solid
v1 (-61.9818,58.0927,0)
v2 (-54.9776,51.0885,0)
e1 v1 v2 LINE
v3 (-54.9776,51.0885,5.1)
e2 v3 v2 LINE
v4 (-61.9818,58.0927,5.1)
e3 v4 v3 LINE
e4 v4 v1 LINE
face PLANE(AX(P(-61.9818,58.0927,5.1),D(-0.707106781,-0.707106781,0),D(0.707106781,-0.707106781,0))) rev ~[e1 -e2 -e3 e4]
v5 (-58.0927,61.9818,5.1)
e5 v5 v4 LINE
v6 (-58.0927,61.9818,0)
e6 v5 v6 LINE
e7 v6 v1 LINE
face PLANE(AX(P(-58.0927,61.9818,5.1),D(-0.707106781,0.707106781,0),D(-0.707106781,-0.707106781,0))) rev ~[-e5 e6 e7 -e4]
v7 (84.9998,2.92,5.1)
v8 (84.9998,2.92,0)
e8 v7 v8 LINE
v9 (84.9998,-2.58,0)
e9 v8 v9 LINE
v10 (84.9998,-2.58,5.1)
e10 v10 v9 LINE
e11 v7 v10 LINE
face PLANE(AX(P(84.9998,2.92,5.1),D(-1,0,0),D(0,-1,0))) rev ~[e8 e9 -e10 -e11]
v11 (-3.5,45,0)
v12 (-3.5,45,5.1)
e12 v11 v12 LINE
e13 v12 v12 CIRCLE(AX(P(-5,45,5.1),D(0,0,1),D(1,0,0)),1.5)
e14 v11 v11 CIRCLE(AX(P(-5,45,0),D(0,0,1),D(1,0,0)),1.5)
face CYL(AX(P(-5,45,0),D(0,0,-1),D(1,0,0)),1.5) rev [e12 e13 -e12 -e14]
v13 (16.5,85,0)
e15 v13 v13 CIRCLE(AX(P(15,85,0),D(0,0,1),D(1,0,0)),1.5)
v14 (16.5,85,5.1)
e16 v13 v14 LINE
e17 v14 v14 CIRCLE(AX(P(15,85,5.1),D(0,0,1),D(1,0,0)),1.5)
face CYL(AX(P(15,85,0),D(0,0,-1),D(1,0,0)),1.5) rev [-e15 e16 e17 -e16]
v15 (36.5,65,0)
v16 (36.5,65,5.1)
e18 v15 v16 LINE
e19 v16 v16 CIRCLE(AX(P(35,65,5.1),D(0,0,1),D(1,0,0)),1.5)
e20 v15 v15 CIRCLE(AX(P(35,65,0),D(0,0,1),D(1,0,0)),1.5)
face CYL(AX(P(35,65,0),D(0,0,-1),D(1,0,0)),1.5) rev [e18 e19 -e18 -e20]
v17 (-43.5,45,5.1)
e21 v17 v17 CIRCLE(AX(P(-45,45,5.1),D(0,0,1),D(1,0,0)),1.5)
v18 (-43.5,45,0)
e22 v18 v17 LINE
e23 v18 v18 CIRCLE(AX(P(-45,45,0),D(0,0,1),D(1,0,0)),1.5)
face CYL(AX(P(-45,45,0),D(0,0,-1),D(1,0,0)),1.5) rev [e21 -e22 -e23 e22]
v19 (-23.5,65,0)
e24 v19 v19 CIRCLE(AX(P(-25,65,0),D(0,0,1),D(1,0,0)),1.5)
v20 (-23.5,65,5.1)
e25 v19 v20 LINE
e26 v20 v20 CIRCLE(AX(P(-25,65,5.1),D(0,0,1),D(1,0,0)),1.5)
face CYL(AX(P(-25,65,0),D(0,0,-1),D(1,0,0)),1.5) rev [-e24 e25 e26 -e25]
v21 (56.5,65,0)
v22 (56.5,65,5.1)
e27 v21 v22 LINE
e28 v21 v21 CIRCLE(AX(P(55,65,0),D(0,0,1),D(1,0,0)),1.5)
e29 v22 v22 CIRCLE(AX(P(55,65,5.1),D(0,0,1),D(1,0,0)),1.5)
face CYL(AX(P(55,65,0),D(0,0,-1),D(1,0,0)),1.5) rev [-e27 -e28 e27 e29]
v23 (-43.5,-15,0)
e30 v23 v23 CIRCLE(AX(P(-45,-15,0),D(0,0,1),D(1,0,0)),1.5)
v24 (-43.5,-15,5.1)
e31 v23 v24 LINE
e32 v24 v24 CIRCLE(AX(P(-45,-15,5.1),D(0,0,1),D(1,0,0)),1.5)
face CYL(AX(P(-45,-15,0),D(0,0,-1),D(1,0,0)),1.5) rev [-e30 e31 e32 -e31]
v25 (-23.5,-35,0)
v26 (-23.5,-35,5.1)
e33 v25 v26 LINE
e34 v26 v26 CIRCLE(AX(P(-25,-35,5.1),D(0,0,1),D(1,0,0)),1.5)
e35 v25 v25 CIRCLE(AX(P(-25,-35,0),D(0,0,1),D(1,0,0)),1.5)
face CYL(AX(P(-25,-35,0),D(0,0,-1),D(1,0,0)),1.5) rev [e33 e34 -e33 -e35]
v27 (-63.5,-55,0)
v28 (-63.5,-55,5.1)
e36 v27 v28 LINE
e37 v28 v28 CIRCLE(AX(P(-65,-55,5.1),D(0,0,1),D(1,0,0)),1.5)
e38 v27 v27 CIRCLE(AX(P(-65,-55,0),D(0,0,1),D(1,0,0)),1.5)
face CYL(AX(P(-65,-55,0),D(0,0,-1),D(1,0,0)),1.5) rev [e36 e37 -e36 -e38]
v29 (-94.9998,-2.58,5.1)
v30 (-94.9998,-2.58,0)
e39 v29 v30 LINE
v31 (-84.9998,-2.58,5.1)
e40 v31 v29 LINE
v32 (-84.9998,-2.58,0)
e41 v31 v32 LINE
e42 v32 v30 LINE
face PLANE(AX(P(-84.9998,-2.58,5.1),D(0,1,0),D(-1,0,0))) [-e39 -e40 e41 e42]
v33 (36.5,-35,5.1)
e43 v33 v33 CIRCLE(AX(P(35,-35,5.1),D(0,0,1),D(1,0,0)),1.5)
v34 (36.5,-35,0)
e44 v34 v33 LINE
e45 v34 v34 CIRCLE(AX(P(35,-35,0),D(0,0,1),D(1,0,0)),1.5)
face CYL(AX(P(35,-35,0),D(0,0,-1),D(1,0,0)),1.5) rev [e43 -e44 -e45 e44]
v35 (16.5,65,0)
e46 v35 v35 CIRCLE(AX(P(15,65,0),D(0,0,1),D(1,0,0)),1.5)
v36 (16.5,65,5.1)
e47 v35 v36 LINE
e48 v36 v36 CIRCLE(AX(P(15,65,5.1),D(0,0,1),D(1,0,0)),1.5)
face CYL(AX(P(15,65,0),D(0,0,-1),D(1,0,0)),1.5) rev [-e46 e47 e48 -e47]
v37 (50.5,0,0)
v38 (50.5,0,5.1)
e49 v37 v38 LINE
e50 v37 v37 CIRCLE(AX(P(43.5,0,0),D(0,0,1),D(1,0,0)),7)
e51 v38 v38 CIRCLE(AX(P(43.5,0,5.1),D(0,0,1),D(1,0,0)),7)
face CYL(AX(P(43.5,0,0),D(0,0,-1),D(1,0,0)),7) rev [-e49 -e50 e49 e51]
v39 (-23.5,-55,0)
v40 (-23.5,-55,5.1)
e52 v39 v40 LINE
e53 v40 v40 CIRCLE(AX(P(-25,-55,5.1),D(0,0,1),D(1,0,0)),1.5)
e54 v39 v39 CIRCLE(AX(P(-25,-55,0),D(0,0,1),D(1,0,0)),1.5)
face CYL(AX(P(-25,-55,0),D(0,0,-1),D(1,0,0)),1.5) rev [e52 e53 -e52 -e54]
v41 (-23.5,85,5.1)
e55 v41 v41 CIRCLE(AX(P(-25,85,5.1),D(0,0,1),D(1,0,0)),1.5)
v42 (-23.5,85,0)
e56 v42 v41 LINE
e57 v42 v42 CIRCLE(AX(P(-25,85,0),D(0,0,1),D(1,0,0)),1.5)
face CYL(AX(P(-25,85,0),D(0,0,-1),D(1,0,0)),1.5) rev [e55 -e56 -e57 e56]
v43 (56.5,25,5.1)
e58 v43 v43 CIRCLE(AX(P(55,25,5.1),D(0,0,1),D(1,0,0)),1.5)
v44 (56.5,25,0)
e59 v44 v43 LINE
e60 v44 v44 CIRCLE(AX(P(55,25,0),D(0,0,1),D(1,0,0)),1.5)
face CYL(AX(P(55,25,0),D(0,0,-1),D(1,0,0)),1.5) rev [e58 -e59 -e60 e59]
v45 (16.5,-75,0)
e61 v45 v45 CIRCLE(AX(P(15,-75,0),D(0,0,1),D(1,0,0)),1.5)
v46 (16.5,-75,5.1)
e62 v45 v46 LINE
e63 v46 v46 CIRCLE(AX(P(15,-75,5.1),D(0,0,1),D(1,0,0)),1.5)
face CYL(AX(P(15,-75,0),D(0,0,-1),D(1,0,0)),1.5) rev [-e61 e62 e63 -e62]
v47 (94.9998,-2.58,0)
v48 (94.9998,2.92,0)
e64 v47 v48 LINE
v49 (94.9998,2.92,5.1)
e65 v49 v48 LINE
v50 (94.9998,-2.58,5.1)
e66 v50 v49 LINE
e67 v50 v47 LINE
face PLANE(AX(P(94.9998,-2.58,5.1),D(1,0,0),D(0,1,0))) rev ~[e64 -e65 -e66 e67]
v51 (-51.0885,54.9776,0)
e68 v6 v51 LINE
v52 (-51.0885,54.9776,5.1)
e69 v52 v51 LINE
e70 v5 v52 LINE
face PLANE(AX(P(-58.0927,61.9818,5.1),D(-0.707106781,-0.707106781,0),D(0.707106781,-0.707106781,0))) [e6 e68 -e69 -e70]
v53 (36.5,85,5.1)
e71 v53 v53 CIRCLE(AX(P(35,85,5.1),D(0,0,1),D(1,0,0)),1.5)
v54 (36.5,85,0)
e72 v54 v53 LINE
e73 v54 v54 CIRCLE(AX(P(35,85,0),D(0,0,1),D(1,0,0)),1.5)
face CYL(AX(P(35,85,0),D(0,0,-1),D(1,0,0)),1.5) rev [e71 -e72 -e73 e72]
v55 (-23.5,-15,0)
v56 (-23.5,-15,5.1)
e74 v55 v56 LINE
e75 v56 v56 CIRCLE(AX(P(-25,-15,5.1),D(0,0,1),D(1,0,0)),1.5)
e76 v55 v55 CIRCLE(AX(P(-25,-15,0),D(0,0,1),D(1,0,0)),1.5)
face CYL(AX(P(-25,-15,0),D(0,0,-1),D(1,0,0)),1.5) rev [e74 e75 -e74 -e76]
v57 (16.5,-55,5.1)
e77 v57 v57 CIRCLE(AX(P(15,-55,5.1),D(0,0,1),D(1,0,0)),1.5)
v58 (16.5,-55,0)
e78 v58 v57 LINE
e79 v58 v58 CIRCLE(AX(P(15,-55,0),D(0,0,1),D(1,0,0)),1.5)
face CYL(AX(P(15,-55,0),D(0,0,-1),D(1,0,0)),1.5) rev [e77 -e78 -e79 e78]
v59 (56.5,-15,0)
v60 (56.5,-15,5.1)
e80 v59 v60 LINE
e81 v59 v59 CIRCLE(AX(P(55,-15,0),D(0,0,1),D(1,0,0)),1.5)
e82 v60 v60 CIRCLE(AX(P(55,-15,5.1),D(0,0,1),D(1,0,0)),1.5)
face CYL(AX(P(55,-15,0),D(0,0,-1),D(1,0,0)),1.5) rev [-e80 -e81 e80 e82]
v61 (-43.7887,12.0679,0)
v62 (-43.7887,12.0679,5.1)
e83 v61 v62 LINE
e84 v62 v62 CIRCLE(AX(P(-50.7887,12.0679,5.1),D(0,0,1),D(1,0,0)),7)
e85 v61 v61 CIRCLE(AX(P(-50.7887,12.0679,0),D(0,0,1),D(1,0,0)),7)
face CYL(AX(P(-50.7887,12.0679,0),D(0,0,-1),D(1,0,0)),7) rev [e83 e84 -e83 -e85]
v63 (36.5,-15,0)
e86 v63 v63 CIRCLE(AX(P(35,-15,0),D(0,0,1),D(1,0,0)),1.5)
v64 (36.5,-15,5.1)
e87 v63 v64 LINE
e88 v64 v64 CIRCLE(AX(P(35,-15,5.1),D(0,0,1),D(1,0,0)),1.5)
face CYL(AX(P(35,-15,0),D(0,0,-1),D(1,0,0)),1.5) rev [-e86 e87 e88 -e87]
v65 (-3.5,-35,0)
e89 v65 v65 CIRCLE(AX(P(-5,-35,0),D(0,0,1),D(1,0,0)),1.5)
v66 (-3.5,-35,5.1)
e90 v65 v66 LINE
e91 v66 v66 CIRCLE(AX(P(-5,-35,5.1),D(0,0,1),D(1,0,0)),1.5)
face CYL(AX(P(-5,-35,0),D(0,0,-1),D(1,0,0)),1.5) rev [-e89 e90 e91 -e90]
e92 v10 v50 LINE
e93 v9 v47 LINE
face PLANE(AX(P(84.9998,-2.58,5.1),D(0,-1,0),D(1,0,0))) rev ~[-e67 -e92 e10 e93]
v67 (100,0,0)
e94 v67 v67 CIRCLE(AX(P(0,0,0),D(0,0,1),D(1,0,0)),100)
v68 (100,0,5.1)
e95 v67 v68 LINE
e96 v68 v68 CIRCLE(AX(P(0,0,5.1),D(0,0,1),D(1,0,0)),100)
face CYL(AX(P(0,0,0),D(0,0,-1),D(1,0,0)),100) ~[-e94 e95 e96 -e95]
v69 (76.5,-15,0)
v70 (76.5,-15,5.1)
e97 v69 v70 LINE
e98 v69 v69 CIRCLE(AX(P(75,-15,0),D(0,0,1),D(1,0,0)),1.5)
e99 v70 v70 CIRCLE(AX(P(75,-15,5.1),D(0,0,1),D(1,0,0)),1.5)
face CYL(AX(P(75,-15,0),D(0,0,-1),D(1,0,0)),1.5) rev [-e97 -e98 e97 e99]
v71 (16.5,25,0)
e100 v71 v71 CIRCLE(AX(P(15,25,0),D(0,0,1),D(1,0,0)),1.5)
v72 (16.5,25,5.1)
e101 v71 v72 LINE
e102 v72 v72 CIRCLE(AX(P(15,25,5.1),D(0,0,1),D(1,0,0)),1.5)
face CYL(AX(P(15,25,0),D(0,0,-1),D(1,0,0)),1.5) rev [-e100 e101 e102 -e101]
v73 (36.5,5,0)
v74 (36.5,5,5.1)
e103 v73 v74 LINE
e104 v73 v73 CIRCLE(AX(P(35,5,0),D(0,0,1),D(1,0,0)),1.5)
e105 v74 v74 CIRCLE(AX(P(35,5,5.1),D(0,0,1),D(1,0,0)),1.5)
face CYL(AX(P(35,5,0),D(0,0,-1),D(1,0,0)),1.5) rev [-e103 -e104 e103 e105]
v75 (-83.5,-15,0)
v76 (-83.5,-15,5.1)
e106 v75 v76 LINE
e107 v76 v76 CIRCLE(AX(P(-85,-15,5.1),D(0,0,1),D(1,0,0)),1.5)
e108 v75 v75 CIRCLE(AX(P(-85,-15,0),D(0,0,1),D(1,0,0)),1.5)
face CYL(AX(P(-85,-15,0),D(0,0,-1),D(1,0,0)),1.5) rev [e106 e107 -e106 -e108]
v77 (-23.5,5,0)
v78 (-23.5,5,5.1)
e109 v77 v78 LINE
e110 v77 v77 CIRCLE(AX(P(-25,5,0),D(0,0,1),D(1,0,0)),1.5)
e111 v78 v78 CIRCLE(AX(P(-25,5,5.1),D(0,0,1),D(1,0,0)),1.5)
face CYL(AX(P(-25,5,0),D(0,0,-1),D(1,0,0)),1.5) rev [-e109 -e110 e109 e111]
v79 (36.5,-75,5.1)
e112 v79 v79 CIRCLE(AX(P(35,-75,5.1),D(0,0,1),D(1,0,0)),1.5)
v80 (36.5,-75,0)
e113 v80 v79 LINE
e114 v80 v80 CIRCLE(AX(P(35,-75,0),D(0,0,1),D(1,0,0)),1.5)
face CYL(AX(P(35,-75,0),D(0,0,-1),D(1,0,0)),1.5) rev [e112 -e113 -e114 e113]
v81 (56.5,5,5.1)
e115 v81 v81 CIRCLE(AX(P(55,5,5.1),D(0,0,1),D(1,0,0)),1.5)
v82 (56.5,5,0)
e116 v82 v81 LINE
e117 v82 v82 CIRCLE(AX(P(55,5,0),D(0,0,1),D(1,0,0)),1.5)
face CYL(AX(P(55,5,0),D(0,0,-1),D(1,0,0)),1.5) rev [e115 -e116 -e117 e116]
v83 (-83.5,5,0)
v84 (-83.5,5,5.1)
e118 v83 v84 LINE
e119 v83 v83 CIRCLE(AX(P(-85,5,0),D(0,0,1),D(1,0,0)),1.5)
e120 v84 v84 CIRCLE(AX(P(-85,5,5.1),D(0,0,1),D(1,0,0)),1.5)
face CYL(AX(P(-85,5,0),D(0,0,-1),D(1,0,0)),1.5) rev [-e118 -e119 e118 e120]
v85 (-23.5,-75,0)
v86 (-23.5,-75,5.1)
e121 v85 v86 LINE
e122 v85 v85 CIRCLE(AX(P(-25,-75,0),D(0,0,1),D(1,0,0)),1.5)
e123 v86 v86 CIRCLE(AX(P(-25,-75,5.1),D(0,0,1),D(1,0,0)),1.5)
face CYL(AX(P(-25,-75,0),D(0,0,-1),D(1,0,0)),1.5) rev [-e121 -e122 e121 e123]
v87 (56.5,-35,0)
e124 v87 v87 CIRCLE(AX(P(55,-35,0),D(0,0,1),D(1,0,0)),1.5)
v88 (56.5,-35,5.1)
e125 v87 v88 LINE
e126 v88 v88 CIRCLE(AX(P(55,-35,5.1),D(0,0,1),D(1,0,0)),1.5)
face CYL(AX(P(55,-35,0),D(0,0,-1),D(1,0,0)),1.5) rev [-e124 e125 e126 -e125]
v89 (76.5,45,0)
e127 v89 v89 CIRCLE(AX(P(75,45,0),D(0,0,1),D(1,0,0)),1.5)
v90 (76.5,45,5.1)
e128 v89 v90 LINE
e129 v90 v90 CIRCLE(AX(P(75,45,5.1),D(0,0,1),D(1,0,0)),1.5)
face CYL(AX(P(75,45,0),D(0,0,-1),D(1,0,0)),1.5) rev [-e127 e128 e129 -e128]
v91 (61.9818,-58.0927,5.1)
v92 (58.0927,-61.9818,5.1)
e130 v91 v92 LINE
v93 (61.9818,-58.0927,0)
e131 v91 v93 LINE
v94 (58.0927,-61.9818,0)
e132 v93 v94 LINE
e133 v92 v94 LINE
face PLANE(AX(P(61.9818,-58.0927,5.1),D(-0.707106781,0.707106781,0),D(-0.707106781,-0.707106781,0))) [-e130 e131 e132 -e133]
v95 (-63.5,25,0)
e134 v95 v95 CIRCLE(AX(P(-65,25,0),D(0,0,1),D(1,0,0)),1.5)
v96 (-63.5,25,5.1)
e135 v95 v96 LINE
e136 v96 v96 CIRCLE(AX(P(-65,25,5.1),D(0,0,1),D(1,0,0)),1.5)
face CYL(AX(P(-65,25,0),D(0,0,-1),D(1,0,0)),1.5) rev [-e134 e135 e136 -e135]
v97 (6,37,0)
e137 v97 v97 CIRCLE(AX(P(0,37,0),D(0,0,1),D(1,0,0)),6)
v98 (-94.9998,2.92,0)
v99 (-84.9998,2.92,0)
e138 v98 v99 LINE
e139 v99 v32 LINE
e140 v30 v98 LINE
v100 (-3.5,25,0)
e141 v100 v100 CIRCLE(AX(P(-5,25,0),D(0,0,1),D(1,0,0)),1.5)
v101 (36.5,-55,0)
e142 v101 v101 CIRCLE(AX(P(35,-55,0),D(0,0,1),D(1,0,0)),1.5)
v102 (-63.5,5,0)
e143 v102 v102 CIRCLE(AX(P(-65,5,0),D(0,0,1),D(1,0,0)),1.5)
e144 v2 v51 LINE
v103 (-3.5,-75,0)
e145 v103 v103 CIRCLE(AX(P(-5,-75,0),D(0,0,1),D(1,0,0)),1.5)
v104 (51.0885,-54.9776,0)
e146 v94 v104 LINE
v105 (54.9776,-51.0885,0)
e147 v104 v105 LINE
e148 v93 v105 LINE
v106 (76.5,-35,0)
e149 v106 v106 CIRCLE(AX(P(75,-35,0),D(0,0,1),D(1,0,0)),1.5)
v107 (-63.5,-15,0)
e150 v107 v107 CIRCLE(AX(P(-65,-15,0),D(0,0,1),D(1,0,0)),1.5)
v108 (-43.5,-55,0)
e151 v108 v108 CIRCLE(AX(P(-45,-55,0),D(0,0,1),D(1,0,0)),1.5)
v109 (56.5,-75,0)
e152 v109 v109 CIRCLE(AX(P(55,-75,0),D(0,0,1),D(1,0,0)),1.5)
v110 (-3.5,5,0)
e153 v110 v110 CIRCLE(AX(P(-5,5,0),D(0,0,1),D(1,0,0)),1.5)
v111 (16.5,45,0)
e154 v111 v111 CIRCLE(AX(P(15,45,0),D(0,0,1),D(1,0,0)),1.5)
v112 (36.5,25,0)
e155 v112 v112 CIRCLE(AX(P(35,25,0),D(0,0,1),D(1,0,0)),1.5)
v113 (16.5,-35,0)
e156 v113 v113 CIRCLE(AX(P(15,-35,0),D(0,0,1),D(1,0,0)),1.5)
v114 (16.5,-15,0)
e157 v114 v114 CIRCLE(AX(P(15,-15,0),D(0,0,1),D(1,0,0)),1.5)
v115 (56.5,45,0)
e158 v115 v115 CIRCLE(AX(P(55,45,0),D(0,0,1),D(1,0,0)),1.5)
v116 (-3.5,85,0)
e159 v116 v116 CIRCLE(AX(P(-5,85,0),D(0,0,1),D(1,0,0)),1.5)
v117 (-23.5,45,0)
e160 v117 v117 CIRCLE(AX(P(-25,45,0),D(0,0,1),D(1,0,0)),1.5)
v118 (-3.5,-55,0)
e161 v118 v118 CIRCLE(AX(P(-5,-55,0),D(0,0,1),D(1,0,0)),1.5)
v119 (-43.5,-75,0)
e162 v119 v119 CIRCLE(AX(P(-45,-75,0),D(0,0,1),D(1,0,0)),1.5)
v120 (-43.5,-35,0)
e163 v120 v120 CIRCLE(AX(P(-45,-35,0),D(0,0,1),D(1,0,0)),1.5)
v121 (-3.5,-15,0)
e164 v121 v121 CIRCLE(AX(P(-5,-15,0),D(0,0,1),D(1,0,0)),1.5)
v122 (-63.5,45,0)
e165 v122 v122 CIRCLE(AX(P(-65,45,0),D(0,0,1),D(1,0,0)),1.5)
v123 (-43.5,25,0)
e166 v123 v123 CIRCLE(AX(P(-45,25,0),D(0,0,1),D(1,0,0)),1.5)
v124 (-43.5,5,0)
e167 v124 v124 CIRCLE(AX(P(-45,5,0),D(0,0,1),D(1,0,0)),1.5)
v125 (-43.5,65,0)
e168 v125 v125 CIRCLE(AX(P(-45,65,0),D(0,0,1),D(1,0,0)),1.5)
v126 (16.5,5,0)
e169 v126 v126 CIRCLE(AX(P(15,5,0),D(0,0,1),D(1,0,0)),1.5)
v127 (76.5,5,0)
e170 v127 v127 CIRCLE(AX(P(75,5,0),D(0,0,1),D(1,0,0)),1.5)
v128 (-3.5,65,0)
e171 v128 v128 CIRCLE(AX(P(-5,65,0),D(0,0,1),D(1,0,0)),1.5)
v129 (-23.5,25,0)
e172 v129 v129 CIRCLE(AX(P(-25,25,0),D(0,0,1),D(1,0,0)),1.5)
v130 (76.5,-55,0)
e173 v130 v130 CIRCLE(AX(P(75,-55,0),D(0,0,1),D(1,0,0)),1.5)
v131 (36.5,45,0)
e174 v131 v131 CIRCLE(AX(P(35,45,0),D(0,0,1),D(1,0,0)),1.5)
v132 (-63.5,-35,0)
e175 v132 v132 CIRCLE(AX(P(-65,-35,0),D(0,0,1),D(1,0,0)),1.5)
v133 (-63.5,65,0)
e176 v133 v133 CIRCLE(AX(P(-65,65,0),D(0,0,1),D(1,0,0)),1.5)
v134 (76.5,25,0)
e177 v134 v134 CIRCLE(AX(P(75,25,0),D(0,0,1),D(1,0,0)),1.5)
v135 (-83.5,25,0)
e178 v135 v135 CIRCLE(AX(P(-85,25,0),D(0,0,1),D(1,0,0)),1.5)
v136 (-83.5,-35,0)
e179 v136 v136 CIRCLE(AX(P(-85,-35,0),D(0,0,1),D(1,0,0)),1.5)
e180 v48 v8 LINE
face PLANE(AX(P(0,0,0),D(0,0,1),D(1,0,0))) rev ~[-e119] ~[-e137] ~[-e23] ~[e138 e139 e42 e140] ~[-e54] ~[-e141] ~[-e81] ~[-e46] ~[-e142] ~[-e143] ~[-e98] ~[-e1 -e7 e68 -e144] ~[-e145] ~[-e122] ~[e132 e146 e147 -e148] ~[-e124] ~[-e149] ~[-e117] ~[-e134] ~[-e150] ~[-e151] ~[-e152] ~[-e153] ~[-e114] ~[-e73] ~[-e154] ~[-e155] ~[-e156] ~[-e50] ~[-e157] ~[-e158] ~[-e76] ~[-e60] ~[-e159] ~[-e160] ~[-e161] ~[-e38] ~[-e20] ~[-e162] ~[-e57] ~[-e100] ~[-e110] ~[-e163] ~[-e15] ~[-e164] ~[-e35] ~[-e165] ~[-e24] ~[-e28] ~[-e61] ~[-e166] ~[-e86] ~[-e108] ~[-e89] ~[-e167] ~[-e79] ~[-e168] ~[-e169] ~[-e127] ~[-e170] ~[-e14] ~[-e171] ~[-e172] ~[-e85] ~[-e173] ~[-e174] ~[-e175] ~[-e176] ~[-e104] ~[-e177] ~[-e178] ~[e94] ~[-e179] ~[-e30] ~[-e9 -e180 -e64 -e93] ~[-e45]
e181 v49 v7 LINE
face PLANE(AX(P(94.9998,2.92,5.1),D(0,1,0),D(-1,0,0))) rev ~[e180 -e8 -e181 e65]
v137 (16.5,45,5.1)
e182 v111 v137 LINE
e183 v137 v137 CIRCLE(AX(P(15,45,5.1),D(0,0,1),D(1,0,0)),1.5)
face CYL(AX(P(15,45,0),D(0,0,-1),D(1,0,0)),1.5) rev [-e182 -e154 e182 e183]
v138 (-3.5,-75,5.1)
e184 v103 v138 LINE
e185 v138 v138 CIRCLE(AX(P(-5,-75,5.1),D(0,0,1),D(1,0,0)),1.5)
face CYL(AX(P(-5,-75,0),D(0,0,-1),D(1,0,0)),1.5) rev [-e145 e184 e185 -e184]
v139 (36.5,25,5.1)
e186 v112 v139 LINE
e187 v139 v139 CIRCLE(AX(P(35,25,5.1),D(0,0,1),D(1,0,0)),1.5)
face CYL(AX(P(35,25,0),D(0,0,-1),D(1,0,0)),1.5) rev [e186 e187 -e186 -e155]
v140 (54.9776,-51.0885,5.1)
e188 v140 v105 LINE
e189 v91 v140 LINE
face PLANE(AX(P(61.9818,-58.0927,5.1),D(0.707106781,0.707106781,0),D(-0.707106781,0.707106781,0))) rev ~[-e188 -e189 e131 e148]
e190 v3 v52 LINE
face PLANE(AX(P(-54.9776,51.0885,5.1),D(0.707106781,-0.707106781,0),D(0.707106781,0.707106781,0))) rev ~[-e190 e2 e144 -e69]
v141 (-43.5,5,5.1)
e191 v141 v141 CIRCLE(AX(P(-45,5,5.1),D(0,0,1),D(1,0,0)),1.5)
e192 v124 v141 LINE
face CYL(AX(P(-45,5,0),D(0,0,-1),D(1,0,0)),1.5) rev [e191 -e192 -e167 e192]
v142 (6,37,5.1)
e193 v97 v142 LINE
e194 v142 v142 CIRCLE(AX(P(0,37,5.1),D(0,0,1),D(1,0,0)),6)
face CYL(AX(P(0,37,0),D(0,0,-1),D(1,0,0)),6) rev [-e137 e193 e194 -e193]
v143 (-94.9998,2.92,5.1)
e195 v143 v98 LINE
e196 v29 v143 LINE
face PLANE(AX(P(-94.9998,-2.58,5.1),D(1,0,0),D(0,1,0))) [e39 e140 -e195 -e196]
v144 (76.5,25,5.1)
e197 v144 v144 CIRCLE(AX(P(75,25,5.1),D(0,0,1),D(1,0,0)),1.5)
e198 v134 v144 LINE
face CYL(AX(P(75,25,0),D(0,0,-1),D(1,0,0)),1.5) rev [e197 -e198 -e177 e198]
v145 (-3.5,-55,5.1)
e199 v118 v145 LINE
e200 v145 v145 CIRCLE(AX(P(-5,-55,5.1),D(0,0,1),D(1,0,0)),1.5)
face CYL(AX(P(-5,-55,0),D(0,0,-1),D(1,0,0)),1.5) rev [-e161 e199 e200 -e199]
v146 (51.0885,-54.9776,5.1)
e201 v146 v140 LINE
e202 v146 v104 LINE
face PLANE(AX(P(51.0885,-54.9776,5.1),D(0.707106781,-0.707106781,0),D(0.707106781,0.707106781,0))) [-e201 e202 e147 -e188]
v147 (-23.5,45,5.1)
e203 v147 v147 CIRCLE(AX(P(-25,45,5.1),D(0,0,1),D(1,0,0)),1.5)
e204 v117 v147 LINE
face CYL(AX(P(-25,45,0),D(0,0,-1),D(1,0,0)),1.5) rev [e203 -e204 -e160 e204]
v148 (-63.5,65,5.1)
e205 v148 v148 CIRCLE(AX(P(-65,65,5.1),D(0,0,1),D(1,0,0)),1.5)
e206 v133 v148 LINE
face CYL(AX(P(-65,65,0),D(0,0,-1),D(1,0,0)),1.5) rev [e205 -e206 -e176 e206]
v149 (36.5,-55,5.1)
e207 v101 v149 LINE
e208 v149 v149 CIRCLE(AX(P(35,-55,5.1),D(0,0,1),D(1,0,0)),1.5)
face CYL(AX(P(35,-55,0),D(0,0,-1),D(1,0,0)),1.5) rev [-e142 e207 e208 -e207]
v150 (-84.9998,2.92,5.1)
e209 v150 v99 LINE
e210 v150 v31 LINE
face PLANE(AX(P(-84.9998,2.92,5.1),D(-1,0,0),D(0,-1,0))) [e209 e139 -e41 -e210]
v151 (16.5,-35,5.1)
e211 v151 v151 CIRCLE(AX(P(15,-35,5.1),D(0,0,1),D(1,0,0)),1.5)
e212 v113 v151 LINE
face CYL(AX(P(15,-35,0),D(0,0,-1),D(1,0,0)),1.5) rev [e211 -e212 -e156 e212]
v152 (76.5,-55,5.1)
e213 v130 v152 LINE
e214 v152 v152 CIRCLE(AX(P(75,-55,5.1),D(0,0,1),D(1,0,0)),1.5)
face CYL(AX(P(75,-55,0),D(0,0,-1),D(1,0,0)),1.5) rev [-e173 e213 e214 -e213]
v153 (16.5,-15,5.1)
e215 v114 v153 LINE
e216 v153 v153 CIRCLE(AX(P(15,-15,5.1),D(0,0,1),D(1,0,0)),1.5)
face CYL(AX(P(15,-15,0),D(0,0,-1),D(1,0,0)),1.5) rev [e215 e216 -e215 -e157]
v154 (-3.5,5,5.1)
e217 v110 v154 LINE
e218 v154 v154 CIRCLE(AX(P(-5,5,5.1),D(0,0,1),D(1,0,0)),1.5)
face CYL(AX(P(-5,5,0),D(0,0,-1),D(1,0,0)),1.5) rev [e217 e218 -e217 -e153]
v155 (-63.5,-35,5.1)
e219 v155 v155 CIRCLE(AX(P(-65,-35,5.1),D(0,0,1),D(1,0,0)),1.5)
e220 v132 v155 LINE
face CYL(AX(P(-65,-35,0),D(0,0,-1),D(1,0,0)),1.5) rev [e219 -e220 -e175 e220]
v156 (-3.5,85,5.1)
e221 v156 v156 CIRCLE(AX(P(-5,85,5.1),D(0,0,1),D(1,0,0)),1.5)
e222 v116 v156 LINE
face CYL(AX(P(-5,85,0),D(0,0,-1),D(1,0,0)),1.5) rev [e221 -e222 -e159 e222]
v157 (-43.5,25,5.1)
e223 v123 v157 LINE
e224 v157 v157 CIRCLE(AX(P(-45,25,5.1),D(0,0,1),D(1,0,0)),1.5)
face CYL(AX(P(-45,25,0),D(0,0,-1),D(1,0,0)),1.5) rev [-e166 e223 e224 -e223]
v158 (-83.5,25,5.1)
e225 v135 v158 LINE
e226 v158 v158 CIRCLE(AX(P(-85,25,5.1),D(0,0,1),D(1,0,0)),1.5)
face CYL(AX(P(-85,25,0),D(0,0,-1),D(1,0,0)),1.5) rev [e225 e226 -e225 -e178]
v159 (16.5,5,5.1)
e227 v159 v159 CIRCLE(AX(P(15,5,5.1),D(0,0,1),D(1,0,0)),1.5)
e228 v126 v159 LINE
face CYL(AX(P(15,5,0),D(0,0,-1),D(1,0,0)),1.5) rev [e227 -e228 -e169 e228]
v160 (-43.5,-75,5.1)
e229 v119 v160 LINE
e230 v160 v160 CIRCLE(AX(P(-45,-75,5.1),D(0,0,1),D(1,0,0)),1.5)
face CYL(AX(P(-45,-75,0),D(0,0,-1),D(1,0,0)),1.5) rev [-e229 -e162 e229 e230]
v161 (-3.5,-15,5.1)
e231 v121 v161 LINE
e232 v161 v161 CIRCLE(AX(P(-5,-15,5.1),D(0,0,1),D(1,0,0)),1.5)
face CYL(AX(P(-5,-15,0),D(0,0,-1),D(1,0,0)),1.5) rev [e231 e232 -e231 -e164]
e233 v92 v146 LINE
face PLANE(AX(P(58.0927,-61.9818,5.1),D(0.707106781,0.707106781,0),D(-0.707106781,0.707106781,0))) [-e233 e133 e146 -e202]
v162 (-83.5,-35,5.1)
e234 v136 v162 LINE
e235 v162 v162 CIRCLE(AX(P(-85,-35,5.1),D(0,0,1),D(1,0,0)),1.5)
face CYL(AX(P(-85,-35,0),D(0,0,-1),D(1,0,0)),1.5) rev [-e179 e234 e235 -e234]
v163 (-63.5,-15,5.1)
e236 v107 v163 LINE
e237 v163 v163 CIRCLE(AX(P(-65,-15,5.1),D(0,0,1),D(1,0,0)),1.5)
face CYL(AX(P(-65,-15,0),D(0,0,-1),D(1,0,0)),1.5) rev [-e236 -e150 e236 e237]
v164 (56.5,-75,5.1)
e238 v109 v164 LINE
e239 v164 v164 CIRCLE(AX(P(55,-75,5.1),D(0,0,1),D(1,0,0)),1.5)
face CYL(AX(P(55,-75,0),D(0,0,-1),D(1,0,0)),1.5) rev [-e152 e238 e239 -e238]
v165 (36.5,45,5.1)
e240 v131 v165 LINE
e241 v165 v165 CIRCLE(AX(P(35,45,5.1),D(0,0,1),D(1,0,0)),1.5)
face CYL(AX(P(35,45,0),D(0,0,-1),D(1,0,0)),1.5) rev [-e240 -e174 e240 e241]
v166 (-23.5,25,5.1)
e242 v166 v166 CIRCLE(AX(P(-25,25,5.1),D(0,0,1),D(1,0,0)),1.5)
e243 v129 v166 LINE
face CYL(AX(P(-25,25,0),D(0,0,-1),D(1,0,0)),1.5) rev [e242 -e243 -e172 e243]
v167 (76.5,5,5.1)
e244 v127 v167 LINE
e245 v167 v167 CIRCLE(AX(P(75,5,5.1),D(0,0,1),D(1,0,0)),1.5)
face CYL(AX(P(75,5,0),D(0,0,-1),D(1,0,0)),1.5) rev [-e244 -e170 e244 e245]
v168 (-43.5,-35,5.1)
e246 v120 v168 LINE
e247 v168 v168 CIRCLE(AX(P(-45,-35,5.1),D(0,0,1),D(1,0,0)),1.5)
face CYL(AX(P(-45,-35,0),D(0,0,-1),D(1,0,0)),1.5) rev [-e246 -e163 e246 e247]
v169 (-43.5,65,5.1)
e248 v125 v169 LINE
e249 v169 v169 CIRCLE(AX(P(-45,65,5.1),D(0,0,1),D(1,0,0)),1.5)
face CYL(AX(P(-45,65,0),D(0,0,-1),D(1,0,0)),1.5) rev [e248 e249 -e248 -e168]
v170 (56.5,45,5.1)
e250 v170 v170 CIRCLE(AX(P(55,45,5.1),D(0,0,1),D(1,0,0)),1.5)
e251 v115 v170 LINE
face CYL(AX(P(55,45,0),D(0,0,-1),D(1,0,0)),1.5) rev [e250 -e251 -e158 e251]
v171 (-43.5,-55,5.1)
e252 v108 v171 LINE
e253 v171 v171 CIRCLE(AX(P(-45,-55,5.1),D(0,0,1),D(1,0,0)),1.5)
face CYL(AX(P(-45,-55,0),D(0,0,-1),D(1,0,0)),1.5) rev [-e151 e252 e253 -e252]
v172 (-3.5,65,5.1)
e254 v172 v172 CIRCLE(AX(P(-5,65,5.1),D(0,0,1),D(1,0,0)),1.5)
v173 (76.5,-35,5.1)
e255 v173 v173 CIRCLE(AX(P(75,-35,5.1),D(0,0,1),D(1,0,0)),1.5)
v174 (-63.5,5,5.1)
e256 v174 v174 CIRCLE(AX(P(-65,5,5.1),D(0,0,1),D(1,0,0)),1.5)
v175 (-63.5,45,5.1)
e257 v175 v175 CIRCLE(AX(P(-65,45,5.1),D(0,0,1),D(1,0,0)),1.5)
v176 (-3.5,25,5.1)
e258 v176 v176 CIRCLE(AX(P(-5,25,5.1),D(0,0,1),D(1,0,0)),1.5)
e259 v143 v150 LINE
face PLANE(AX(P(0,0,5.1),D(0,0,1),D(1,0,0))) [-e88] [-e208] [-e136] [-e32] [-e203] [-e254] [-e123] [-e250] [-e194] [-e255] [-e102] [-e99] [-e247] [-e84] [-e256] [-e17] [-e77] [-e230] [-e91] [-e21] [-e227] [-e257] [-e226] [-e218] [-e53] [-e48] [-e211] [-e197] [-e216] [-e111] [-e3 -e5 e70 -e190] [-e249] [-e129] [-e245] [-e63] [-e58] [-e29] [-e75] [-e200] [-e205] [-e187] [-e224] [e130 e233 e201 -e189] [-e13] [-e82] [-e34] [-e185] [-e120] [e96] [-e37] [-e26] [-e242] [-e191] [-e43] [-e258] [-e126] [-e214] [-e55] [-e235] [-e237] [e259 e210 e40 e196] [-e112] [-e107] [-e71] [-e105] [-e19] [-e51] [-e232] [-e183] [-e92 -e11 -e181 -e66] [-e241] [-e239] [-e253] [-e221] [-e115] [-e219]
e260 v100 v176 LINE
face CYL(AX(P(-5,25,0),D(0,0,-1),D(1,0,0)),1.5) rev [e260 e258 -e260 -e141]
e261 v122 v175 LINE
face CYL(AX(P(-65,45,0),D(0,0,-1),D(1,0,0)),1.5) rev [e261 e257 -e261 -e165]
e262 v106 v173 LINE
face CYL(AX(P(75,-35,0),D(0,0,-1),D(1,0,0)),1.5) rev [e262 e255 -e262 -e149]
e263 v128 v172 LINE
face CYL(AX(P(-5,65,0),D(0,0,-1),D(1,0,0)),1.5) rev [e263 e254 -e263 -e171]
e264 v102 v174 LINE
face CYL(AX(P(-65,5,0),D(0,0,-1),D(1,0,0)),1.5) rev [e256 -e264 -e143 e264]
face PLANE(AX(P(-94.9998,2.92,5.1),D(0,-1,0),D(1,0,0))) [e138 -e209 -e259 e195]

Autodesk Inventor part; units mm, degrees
ref_plane "YZ Plane" through (0, 0, 0) normal (1, 0, 0) x (0, 1, 0)
ref_plane "XZ Plane" through (0, 0, 0) normal (0, 1, 0) x (-1, 0, 0)
ref_plane "XY Plane" through (0, 0, 0) normal (0, 0, 1) x (1, 0, 0)
sketch "Sketch1" plane through (0, 0, 0) normal (0, 0, 1) x (1, 0, 0)
  line L0 (-45, -45) -> (45, -45) construction
  line L1 (-25, 25) -> (25, 25) construction
  circle A0 centre (-5, 65) radius 1.5
  circle A1 centre (-25, 65) radius 1.5
  circle A2 centre (-5, 45) radius 1.5
  circle A3 centre (-25, 45) radius 1.5
  circle A4 centre (-45, 65) radius 1.5
  circle A5 centre (-45, 45) radius 1.5
  line L2 (5, 5) -> (-5, 5) construction
  circle A6 centre (-5, 25) radius 1.5
  circle A7 centre (-5, -15) radius 1.5
  circle A8 centre (15, 25) radius 1.5
  circle A9 centre (15, 5) radius 1.5
  line L3 (-5, 5) -> (-5, -5) construction
  circle A10 centre (-5, 5) radius 1.5
  line L4 (-45, 45) -> (-45, -45) construction
  circle A11 centre (0, 37) radius 6
  line L5 (25, 25) -> (25, -25) construction
  line L6 (-65, -65) -> (-65, 65) construction
  line L7 (45, 45) -> (-45, 45) construction
  line L8 (65, -65) -> (-65, -65) construction
  line L9 (-65, 65) -> (65, 65) construction
  circle A12 centre (0, 0) radius 100
  line L10 (65, -65) -> (-65, 65) construction
  line L11 (-65, -65) -> (65, 65) construction
  line L12 (45, -45) -> (45, 45) construction
  line L13 (65, 65) -> (65, -65) construction
  circle A13 centre (35, 25) radius 1.5
  circle A14 centre (15, 45) radius 1.5
  circle A15 centre (55, 25) radius 1.5
  circle A16 centre (35, 45) radius 1.5
  circle A17 centre (15, 65) radius 1.5
  circle A18 centre (35, 65) radius 1.5
  circle A19 centre (55, 45) radius 1.5
  circle A20 centre (55, 65) radius 1.5
  circle A21 centre (75, 25) radius 1.5
  circle A22 centre (75, 45) radius 1.5
  circle A23 centre (-65, -35) radius 1.5
  circle A24 centre (-85, -35) radius 1.5
  circle A25 centre (-25, -35) radius 1.5
  circle A26 centre (-45, -35) radius 1.5
  circle A27 centre (-65, -55) radius 1.5
  circle A28 centre (-45, -55) radius 1.5
  circle A29 centre (-25, -55) radius 1.5
  circle A30 centre (75, 5) radius 1.5
  line L14 (0, 0) -> (87, 0) construction
  circle A31 centre (55, 5) radius 1.5
  circle A32 centre (35, 5) radius 1.5
  circle A33 centre (43.5, 0) radius 7
  line L15 (5, -5) -> (5, 5) construction
  circle A34 centre (-25, -15) radius 1.5
  circle A35 centre (-50.7887, 12.0679) radius 7
  circle A36 centre (-45, -15) radius 1.5
  line L16 (-25, -25) -> (-25, 25) construction
  circle A37 centre (-65, 65) radius 1.5
  circle A38 centre (-65, 45) radius 1.5
  circle A39 centre (-65, 25) radius 1.5
  circle A40 centre (-65, 5) radius 1.5
  circle A41 centre (-65, -15) radius 1.5
  circle A42 centre (-85, -15) radius 1.5
  circle A43 centre (-45, 5) radius 1.5
  circle A44 centre (-25, 5) radius 1.5
  circle A45 centre (-85, 5) radius 1.5
  circle A46 centre (-25, 25) radius 1.5
  circle A47 centre (-45, 25) radius 1.5
  circle A48 centre (-85, 25) radius 1.5
  line L17 (-5, -5) -> (5, -5) construction
  circle A49 centre (15, -15) radius 1.5
  circle A50 centre (35, -15) radius 1.5
  circle A51 centre (55, -15) radius 1.5
  circle A52 centre (75, -15) radius 1.5
  circle A53 centre (35, -35) radius 1.5
  circle A54 centre (55, -35) radius 1.5
  circle A55 centre (35, -55) radius 1.5
  circle A56 centre (55, -55) radius 1.5
  circle A57 centre (75, -35) radius 1.5
  circle A58 centre (75, -55) radius 1.5
  line L18 (25, -25) -> (-25, -25) construction
  circle A59 centre (-5, -55) radius 1.5
  circle A60 centre (15, -55) radius 1.5
  circle A61 centre (15, -35) radius 1.5
  circle A62 centre (-5, -35) radius 1.5
  line L19 (-25, 65) -> (-25, 90.4195) construction
  circle A63 centre (-25, 85) radius 1.5
  circle A64 centre (-5, 85) radius 1.5
  circle A65 centre (15, 85) radius 1.5
  circle A66 centre (35, 85) radius 1.5
  circle A67 centre (-45, -75) radius 1.5
  circle A68 centre (-25, -75) radius 1.5
  circle A69 centre (-5, -75) radius 1.5
  circle A70 centre (15, -75) radius 1.5
  circle A71 centre (35, -75) radius 1.5
  circle A72 centre (55, -75) radius 1.5
  point P0 (-14.7887, 30.5879)
  point P1 (-34.7887, 111.9312)
  point P2 (-39.9487, 111.9312)
  point P3 (-25, 0)
  dimension "d56" = 200
  dimension "d57" = 130
  dimension "d58" = 20
  dimension "d59" = 20
  dimension "d60" = 20
  dimension "d61" = 3
  dimension "d62" = 20
  dimension "d63" = 20
  dimension "d64" = 20
  dimension "d65" = 20
  dimension "d66" = 20
  dimension "d67" = 20
  dimension "d68" = 20
  dimension "d69" = 20
  dimension "d70" = 20
  dimension "d71" = 20
  dimension "d72" = 20
  dimension "d73" = 20
  dimension "d74" = 20
  dimension "d75" = 12
  dimension "d76" = 37
  dimension "d78" = 14
  dimension "d79" = 14
  dimension "d80" = 43.5
  dimension "d81" = 20
  dimension "d82" = 20
  dimension "d83" = 20
  dimension "d84" = 20
  dimension "d85" = 20
  dimension "d86" = 20
  dimension "d87" = 20
  dimension "d88" = 20
  dimension "d89" = 20
  dimension "d90" = 20
extrude "Extrusion1" add sketch "Sketch1" along normal blind 5.1
sketch "Sketch2" plane through (0, 0, 5.1) normal (0, 0, 1) x (1, 0, 0)
  line L0 (-84.9998, -2.58) -> (-94.9998, -2.58)
  line L1 (-94.9998, -2.58) -> (-94.9998, 2.92)
  line L2 (-94.9998, 2.92) -> (-84.9998, 2.92)
  line L3 (-84.9998, 2.92) -> (-84.9998, -2.58)
  line L4 (-84.9998, -2.58) -> (-94.9998, 2.92) construction
  line L5 (-94.9998, -2.58) -> (-84.9998, 2.92) construction
  line L6 (0, 0) -> (0, -10.4445) construction
  line L7 (84.9998, -2.58) -> (94.9998, -2.58)
  line L8 (94.9998, -2.58) -> (94.9998, 2.92)
  line L9 (94.9998, 2.92) -> (84.9998, 2.92)
  line L10 (84.9998, 2.92) -> (84.9998, -2.58)
  line L11 (84.9998, -2.58) -> (94.9998, 2.92) construction
  line L12 (94.9998, -2.58) -> (84.9998, 2.92) construction
  point P0 (-89.9998, 0.17)
  point P1 (89.9998, 0.17)
  dimension "d107" = 10
  dimension "d108" = 5.5
  dimension "d109" = 2.58
  dimension "d110" = 90
extrude "Extrusion2" cut sketch "Sketch2" against normal blind 10
sketch "Sketch3" plane through (0, 0, 5.1) normal (0, 0, 1) x (1, 0, 0)
  circle A0 centre (0, 0) radius 100 projected
  line L0 (0, 0) -> (-46.9056, 0) construction
  line L1 (0, 0) -> (-26.1892, -26.1892) construction
  line L2 (-58.0927, 61.9818) -> (-51.0885, 54.9776)
  line L3 (0, 0) -> (-61.6815, 61.6815) construction
  line L4 (-61.9818, 58.0927) -> (-54.9776, 51.0885)
  line L5 (-58.0927, 61.9818) -> (-61.9818, 58.0927)
  line L6 (-54.9776, 51.0885) -> (-51.0885, 54.9776)
  line L7 (61.9818, -58.0927) -> (54.9776, -51.0885)
  line L8 (0, 0) -> (61.6815, -61.6815) construction
  line L9 (58.0927, -61.9818) -> (51.0885, -54.9776)
  line L10 (61.9818, -58.0927) -> (58.0927, -61.9818)
  line L11 (51.0885, -54.9776) -> (54.9776, -51.0885)
  point P0 (-30.8407, 30.8407)
  point P1 (-53.5003, 53.5003)
  point P2 (-54.5906, 58.4797)
  point P3 (-58.4797, 54.5906)
  point P4 (53.5003, -53.5003)
  point P5 (58.4797, -54.5906)
  point P6 (54.5906, -58.4797)
  dimension "d117" = 45
  dimension "d123" = 45
  dimension "d126" = 80
  dimension "d127" = 80
  dimension "d128" = 2.75
  dimension "d129" = 2.75
  dimension "d130" = 75
extrude "Extrusion3" cut sketch "Sketch3" against normal blind 10 contours L2 L6 L4 L5 | L10 L9 L11 L7
properties part number "Top plate" material "Polycarbonate, Clear"
